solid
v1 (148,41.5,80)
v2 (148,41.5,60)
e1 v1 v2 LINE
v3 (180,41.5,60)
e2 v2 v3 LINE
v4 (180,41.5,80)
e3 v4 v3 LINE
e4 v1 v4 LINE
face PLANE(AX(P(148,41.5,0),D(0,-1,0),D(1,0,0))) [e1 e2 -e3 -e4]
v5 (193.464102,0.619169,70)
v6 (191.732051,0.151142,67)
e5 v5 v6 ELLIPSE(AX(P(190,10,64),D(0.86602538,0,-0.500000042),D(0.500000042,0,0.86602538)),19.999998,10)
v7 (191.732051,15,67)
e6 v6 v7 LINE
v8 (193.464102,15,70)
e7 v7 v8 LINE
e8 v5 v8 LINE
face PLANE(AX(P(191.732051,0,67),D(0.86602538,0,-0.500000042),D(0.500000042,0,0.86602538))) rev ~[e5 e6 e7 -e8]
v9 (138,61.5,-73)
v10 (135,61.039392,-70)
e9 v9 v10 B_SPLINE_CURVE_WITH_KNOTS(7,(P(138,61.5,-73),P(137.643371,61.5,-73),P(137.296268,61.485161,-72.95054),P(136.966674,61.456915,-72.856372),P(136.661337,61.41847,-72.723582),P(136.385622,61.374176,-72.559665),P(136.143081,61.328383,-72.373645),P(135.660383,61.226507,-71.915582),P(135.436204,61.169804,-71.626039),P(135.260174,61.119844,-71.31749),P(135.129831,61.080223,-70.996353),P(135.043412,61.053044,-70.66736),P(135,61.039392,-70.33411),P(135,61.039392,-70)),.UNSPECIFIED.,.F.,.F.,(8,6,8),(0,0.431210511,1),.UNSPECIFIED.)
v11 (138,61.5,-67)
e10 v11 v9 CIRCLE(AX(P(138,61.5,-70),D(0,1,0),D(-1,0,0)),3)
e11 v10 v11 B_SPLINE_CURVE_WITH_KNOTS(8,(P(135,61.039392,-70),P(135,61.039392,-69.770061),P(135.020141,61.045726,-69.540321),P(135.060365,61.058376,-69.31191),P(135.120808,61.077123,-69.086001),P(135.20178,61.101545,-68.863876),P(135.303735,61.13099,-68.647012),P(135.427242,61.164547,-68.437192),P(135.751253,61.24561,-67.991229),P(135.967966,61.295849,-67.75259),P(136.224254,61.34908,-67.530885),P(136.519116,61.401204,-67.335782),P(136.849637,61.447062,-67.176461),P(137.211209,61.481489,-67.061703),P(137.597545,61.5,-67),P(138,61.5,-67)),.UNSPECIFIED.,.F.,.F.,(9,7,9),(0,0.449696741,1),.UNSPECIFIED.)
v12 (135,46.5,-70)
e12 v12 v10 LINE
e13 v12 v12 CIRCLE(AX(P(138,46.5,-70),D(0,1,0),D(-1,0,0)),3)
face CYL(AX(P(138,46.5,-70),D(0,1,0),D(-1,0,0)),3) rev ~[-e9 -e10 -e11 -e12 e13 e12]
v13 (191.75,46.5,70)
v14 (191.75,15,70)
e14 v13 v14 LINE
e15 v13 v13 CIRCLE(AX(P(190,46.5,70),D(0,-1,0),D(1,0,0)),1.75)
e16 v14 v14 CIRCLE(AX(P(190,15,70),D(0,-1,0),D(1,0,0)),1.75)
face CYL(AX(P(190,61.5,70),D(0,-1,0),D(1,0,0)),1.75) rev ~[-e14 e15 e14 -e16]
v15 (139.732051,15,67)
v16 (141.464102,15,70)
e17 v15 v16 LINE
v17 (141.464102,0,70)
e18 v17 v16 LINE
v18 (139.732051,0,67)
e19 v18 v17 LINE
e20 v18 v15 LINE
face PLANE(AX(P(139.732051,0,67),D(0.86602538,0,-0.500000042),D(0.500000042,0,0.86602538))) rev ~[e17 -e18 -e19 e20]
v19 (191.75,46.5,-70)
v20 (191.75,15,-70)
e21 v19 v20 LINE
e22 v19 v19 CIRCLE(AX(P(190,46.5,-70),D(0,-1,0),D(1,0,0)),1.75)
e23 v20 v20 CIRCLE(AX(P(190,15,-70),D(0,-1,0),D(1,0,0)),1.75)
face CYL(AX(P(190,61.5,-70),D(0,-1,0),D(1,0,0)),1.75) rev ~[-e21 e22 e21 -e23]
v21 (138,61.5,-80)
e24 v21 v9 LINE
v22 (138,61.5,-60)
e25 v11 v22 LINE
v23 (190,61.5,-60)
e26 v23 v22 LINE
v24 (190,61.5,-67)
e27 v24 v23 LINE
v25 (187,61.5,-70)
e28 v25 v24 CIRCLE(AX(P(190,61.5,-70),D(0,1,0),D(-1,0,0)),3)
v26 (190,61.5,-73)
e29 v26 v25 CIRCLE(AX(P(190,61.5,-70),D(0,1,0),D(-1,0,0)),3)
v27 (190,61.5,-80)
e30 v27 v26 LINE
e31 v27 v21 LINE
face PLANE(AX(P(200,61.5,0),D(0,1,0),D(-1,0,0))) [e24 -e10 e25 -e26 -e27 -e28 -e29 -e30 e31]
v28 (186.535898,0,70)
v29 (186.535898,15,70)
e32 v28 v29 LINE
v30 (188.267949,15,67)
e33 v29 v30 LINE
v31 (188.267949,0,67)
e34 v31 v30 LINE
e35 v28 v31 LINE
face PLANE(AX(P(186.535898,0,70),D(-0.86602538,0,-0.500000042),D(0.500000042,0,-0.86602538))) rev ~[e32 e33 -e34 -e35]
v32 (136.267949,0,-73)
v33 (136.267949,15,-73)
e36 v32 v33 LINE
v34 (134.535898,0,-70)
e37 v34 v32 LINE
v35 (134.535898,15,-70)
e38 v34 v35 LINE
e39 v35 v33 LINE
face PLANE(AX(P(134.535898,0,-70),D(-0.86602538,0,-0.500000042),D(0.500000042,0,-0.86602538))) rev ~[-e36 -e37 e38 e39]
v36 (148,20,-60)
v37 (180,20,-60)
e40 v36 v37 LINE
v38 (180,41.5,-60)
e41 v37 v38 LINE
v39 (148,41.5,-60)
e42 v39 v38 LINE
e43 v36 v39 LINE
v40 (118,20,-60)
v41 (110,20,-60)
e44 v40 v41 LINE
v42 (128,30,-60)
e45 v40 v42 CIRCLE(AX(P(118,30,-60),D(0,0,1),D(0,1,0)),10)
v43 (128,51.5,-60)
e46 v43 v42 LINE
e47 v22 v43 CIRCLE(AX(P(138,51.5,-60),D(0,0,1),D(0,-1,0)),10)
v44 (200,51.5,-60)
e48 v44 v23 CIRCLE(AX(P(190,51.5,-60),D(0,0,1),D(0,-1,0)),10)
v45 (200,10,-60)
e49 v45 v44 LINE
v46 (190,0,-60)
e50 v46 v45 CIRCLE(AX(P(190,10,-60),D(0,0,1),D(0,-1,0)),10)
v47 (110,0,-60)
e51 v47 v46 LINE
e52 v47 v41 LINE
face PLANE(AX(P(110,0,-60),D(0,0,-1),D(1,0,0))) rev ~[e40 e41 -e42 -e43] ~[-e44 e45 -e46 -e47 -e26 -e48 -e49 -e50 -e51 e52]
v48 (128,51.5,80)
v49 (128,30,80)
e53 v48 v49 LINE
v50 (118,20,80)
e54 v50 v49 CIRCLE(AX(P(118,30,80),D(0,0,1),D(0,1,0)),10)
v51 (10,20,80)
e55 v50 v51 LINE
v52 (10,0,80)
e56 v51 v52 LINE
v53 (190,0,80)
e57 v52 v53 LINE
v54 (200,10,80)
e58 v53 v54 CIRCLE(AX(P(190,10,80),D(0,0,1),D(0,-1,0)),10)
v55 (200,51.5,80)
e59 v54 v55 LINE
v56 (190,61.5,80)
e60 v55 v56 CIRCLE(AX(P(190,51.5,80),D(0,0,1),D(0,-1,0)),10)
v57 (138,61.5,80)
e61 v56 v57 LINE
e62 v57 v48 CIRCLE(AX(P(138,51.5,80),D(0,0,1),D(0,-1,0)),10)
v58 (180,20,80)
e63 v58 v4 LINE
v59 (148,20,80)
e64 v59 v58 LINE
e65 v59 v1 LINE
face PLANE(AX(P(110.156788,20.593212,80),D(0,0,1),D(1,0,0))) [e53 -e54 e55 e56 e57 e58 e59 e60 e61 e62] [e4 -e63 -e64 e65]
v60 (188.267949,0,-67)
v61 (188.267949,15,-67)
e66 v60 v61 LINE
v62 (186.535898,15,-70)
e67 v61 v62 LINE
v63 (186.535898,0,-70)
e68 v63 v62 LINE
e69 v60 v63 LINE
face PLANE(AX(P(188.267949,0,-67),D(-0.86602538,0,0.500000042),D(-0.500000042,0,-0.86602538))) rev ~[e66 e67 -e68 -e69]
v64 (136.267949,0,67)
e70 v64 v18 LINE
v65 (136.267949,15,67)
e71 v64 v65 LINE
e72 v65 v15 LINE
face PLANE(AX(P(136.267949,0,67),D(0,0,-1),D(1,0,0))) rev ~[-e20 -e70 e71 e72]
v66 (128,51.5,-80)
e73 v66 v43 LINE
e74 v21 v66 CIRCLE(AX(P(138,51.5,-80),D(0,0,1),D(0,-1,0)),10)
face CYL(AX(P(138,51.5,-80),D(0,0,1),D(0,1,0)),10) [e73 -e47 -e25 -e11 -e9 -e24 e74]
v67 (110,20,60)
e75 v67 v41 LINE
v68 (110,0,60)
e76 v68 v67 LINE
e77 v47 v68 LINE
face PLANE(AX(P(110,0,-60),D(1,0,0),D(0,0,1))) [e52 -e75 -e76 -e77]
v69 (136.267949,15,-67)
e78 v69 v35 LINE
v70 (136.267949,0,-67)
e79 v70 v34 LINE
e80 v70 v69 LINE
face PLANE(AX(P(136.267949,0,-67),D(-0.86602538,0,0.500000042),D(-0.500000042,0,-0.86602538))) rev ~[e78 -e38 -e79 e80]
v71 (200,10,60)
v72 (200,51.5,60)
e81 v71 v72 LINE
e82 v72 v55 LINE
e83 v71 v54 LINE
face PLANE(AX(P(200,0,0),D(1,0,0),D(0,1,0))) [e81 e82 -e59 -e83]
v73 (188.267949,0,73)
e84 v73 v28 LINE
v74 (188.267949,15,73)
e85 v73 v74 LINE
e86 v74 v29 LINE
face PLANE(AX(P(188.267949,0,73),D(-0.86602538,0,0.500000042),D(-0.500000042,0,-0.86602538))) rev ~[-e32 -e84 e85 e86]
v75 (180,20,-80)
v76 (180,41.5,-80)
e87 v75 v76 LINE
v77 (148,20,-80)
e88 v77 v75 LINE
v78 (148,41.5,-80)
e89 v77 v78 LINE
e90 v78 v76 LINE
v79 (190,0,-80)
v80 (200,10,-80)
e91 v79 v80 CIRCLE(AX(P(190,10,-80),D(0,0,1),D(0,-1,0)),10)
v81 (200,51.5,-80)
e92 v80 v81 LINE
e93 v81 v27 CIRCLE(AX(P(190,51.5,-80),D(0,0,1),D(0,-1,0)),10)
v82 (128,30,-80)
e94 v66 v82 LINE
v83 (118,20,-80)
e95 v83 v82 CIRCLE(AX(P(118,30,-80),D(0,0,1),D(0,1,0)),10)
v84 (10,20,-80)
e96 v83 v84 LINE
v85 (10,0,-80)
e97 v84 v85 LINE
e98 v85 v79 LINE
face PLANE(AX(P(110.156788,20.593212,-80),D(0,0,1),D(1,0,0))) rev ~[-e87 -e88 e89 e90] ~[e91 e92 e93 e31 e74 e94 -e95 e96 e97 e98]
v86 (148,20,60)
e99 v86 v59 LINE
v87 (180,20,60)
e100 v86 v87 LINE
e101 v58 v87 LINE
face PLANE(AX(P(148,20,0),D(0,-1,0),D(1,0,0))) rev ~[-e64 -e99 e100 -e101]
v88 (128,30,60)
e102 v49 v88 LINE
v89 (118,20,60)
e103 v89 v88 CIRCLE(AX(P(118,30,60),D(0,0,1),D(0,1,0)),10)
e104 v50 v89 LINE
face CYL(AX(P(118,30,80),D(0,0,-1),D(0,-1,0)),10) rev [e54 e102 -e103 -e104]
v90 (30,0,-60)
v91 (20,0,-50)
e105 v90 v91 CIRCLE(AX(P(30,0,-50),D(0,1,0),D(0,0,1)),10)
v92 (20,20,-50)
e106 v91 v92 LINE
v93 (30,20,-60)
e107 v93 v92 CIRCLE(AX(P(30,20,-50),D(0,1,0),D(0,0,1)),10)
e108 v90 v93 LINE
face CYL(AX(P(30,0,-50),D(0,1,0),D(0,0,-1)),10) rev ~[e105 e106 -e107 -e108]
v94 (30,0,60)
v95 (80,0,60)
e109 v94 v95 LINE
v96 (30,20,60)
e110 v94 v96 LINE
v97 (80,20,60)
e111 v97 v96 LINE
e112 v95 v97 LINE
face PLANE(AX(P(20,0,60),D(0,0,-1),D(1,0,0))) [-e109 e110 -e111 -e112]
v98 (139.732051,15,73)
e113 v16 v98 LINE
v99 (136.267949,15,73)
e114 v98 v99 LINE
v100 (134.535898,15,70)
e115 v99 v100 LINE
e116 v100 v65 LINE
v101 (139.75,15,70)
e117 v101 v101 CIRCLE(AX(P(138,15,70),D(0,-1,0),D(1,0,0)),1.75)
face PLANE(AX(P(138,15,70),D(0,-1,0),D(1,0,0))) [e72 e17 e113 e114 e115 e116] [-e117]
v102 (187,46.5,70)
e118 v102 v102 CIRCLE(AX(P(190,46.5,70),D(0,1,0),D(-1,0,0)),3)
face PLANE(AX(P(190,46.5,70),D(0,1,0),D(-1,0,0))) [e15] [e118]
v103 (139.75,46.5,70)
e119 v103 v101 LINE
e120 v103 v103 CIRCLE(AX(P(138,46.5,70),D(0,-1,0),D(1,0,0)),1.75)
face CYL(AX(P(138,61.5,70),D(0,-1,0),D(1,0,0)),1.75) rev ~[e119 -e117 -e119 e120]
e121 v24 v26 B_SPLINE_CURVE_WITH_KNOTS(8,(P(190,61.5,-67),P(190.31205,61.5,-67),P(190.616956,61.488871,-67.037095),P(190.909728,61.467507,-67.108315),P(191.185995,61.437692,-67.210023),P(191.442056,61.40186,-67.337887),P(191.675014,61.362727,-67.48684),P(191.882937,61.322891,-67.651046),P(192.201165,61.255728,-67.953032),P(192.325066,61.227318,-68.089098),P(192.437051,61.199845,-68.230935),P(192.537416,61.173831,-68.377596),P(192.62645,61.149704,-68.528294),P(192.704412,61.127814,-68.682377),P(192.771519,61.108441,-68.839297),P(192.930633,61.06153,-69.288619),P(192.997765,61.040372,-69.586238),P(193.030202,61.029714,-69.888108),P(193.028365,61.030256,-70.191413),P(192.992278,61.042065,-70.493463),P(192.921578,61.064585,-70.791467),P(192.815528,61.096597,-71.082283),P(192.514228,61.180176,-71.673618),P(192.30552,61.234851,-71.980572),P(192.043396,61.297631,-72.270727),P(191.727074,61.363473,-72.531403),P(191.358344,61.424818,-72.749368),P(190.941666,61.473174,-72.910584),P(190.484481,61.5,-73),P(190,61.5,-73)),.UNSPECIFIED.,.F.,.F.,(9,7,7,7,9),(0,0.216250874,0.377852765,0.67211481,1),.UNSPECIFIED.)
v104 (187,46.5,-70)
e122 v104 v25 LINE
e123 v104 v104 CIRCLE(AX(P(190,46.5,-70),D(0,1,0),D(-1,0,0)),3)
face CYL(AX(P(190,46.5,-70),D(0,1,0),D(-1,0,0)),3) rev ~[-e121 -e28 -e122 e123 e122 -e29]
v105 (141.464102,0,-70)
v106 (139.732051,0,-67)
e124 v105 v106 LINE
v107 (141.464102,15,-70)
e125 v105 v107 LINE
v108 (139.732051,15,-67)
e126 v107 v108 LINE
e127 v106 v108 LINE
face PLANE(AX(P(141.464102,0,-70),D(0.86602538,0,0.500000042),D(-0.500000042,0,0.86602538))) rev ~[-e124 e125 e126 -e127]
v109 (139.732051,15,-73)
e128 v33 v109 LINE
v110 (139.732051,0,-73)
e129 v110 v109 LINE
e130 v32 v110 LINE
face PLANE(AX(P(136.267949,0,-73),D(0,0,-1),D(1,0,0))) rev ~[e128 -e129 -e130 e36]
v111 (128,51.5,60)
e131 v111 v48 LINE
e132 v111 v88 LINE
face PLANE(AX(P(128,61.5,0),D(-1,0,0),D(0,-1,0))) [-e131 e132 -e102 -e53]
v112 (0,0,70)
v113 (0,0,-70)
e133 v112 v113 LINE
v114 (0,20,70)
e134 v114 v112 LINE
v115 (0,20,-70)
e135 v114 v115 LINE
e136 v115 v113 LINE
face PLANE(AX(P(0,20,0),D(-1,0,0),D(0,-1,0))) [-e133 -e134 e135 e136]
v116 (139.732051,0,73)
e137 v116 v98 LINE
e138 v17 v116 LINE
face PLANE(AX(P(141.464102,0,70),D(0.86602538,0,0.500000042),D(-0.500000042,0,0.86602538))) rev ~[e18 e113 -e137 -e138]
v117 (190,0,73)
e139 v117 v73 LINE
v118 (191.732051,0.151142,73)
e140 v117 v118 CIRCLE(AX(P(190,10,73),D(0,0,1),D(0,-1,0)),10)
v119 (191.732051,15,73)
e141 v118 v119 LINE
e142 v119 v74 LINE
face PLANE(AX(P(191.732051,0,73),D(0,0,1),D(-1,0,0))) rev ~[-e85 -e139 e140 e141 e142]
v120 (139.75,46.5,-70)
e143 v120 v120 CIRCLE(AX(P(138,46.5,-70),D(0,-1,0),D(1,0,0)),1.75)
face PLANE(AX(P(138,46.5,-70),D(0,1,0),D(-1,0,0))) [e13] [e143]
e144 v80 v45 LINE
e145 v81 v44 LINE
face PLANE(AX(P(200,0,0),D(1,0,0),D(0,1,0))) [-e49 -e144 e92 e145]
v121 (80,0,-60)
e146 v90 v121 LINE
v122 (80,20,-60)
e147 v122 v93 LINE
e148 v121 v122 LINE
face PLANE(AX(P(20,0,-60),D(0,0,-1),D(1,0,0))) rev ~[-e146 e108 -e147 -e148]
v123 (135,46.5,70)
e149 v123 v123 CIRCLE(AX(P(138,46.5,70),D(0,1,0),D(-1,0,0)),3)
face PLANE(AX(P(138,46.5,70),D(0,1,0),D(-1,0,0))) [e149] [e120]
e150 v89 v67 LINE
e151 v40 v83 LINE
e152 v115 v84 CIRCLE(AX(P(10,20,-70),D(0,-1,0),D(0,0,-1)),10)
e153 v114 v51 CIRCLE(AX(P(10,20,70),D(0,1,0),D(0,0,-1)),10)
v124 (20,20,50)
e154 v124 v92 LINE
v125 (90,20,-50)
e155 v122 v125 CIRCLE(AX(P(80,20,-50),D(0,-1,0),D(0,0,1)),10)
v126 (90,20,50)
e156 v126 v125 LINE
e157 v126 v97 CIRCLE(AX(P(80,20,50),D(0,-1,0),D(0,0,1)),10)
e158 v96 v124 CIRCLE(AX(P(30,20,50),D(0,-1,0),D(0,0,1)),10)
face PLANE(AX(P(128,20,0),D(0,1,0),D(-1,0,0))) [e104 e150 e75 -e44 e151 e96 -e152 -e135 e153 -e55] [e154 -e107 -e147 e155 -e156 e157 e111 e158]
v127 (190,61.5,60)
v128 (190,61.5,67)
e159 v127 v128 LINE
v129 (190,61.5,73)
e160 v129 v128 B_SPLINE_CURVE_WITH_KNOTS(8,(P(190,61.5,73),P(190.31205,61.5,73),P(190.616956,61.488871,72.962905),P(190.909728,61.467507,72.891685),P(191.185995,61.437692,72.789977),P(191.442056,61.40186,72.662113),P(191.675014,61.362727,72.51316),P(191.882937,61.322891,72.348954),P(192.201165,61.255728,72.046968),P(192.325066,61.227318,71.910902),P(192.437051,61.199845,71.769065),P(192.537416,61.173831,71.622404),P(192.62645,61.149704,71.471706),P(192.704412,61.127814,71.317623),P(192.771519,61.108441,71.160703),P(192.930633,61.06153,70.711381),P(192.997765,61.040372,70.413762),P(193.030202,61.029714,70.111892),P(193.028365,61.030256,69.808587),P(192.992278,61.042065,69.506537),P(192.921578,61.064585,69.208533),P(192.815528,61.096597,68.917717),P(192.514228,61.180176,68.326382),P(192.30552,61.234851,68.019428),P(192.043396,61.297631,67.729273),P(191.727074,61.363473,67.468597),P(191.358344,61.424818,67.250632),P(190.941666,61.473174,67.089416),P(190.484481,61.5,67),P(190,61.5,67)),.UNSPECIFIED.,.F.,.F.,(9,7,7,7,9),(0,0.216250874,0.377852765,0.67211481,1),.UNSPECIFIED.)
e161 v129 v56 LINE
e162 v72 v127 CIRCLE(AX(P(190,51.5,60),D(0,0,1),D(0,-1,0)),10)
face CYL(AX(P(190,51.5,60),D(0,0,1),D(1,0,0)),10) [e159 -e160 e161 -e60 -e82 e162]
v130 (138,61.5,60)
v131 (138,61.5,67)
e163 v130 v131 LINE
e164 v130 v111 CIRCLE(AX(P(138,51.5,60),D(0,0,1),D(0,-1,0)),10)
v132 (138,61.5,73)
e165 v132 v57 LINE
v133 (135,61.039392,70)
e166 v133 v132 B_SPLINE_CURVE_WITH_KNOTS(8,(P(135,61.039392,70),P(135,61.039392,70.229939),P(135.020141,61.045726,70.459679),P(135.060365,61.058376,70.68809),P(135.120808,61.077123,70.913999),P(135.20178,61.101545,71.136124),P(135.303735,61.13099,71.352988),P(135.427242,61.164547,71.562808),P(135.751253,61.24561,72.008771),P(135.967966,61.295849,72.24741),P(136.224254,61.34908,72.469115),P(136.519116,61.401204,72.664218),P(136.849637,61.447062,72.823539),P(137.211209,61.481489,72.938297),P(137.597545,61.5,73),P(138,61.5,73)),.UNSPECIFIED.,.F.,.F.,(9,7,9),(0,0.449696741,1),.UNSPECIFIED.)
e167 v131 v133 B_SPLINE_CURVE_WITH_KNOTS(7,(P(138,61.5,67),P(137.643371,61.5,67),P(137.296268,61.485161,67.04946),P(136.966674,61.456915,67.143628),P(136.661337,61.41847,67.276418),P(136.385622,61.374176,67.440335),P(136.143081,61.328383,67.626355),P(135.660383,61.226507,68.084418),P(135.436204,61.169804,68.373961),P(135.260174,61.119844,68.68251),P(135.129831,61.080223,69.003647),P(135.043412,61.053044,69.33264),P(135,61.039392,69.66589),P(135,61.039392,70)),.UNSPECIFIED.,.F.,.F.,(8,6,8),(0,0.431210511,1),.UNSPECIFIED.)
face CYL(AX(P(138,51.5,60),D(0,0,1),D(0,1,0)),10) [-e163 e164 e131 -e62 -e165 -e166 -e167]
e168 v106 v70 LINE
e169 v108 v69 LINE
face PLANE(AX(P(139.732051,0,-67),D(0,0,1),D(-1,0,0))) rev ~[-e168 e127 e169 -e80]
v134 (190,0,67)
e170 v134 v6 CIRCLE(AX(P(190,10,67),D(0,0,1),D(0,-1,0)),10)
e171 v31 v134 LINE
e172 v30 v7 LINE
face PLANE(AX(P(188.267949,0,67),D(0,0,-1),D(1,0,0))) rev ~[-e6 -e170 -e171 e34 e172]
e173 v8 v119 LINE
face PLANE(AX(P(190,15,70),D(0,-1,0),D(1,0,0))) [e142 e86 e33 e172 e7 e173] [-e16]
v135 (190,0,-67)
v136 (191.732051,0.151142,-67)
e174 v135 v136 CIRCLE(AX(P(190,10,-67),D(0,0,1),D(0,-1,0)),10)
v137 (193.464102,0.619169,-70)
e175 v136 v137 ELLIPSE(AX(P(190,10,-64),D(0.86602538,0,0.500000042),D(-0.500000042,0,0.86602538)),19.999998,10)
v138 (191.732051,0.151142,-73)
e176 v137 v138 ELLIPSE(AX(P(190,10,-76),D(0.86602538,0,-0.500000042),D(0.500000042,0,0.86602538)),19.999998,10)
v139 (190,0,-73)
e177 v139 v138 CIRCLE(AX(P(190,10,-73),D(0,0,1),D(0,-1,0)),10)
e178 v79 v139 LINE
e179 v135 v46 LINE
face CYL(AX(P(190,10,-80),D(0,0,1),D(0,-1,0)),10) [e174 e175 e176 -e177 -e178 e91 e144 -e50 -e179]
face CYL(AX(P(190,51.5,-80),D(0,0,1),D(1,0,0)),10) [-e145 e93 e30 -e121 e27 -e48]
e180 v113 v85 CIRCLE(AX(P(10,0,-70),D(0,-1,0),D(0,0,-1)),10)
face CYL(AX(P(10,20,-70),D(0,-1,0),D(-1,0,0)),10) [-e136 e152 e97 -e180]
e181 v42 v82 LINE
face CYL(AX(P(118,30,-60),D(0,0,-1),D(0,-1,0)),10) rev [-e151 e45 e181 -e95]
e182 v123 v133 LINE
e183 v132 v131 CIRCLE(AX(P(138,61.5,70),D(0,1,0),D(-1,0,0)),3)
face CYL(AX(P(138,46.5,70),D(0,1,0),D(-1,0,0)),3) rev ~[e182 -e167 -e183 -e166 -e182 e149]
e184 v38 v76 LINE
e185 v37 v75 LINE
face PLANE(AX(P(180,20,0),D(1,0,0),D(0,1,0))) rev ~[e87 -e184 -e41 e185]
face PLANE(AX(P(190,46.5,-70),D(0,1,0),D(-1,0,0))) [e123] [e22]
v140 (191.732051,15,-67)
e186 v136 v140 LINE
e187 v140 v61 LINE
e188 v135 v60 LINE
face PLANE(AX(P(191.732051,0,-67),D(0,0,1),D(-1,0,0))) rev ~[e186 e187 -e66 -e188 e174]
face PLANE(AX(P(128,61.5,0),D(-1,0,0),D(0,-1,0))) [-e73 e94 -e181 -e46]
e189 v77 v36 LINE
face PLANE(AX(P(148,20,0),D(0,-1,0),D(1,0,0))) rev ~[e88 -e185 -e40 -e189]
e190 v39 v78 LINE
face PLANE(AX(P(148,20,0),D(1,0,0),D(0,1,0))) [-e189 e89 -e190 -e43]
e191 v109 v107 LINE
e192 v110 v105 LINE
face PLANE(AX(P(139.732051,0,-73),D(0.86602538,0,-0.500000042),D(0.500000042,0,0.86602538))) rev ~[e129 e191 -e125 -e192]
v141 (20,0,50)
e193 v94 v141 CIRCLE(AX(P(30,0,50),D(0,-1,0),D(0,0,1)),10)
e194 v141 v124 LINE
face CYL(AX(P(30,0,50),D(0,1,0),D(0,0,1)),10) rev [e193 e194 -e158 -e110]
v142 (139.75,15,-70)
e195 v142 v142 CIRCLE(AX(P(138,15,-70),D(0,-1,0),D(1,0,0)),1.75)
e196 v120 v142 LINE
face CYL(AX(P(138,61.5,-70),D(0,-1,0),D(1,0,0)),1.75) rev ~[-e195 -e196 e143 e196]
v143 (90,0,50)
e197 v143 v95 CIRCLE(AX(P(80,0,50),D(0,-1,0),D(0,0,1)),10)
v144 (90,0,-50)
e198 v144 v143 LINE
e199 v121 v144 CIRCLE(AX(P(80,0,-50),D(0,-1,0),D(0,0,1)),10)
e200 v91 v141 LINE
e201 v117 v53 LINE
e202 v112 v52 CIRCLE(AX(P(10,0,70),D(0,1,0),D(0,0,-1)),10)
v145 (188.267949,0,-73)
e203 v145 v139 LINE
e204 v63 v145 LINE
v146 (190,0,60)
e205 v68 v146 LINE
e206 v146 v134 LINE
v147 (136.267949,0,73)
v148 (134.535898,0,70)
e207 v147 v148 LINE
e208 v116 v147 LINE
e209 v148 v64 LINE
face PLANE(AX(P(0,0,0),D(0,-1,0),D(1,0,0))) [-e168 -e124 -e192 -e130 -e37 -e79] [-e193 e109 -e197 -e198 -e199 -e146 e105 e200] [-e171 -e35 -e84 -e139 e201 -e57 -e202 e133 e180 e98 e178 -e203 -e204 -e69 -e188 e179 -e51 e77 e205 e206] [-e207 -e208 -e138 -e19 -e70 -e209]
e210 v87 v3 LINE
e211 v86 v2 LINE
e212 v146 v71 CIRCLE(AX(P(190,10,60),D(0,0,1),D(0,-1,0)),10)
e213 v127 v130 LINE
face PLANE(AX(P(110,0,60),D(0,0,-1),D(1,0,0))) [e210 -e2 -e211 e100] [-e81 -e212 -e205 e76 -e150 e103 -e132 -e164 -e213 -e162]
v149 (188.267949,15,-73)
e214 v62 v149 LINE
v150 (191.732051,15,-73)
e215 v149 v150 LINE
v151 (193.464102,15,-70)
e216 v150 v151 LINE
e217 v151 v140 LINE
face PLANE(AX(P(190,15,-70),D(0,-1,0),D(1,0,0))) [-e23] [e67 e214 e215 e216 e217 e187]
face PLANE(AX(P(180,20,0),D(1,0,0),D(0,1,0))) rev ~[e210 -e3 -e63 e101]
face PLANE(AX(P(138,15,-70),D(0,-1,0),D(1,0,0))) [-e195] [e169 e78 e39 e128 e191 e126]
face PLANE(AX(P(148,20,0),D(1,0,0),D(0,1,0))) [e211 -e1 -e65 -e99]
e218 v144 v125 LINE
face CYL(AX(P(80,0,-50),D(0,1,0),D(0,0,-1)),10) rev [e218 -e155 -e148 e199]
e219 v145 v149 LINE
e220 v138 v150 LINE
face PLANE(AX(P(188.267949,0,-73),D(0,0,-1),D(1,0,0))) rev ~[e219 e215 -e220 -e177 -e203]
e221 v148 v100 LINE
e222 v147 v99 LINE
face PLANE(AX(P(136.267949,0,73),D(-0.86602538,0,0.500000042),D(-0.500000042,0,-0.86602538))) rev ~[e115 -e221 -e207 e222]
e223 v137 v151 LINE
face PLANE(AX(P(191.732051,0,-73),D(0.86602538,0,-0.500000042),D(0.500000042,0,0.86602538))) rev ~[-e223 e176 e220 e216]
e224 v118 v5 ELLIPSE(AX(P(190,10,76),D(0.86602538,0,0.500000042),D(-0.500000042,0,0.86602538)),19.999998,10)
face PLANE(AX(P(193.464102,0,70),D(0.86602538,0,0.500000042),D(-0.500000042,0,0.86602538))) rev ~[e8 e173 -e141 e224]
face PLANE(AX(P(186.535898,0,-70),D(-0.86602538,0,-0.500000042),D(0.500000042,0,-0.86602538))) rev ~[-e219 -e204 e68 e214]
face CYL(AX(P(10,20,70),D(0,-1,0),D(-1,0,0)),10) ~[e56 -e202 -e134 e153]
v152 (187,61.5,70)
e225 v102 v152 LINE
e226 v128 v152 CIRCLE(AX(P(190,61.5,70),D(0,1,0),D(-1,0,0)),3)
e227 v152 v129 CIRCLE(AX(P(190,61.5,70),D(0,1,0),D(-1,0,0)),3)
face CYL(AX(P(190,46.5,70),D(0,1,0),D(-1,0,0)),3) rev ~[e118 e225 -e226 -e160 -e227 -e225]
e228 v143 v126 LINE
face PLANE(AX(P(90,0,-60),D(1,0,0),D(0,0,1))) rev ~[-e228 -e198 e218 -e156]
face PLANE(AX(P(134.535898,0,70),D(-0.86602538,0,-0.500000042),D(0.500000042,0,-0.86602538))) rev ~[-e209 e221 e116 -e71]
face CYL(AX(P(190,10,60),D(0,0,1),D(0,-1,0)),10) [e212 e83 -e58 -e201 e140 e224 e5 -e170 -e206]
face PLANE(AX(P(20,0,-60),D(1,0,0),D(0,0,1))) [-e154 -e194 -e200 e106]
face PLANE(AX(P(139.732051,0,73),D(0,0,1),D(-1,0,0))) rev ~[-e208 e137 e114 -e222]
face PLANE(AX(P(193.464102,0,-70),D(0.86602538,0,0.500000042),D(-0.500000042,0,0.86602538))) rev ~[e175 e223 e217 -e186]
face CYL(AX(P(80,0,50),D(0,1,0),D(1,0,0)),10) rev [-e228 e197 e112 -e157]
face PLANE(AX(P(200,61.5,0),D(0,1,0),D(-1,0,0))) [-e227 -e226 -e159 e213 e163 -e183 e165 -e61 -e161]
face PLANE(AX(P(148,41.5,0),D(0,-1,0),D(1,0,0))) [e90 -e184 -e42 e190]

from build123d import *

# Parameters (mm, degrees)
SKETCH_W         = 32
SKETCH_H         = 21.5
PAD_DEPTH        = 80
SKETCH001_W      = 70
SKETCH001_H      = 120
SKETCH001_W_2    = 140
POCKET_DEPTH     = 61.501
FILLET_R         = 10
HOLE_D           = 3.5
HOLE_CBORE_D     = 6
HOLE_CBORE_DEPTH = 15
POCKET001_DEPTH  = 15


with BuildPart() as part:
    # Sketch → Pad (new body, symmetric)
    with BuildSketch(Plane.XY):
        Polygon((0, 0), (200, 0), (200, 61.5), (128, 61.5), (128, 20), (0, 20), align=None)
        with Locations((164, 30.75)):
            Rectangle(SKETCH_W, SKETCH_H, mode=Mode.SUBTRACT)
    extrude(amount=PAD_DEPTH, both=True)

    # Sketch001 → Pocket (cut, through all)
    with BuildSketch(Plane.XZ):
        with Locations((55, 0)):
            Rectangle(SKETCH001_W, SKETCH001_H)
        with Locations((180, 0)):
            Rectangle(SKETCH001_W_2, SKETCH001_H)
    extrude(amount=-POCKET_DEPTH, mode=Mode.SUBTRACT)

    # Fillet
    fillet_edges = [part.edges().sort_by_distance(p)[0] for p in [
        (20, 10, -60),
        (0, 10, 80),
        (20, 10, 60),
        (0, 10, -80),
        (200, 0, 70),
        (200, 61.5, 70),
        (200, 61.5, -70),
        (200, 0, -70),
        (128, 61.5, 70),
        (128, 61.5, -70),
        (128, 20, 70),
        (128, 20, -70),
        (90, 10, 60),
        (90, 10, -60),
    ]]
    fillet(fillet_edges, radius=FILLET_R)

    # Hole (through all)
    with Locations(Plane(origin=(0, 61.5, 0), x_dir=(-1, 0, 0), z_dir=(0, 1, 0))):
        with Locations((-190, 70), (-138, 70), (-190, -70), (-138, -70)):
            CounterBoreHole(HOLE_D / 2, HOLE_CBORE_D / 2, HOLE_CBORE_DEPTH)

    # Sketch004 → Pocket001 (cut)
    with BuildSketch(Plane.XZ):
        Polygon((141.464102, -70), (139.732051, -67), (136.267949, -67), (134.535898, -70), (136.267949, -73), (139.732051, -73), align=None)
        Polygon((188.267949, -73), (191.732051, -73), (193.464102, -70), (191.732051, -67), (188.267949, -67), (186.535898, -70), align=None)
        Polygon((139.732051, 67), (141.464102, 70), (139.732051, 73), (136.267949, 73), (134.535898, 70), (136.267949, 67), align=None)
        Polygon((188.267949, 67), (191.732051, 67), (193.464102, 70), (191.732051, 73), (188.267949, 73), (186.535898, 70), align=None)
    extrude(amount=-POCKET001_DEPTH, mode=Mode.SUBTRACT)


solid = part.part
